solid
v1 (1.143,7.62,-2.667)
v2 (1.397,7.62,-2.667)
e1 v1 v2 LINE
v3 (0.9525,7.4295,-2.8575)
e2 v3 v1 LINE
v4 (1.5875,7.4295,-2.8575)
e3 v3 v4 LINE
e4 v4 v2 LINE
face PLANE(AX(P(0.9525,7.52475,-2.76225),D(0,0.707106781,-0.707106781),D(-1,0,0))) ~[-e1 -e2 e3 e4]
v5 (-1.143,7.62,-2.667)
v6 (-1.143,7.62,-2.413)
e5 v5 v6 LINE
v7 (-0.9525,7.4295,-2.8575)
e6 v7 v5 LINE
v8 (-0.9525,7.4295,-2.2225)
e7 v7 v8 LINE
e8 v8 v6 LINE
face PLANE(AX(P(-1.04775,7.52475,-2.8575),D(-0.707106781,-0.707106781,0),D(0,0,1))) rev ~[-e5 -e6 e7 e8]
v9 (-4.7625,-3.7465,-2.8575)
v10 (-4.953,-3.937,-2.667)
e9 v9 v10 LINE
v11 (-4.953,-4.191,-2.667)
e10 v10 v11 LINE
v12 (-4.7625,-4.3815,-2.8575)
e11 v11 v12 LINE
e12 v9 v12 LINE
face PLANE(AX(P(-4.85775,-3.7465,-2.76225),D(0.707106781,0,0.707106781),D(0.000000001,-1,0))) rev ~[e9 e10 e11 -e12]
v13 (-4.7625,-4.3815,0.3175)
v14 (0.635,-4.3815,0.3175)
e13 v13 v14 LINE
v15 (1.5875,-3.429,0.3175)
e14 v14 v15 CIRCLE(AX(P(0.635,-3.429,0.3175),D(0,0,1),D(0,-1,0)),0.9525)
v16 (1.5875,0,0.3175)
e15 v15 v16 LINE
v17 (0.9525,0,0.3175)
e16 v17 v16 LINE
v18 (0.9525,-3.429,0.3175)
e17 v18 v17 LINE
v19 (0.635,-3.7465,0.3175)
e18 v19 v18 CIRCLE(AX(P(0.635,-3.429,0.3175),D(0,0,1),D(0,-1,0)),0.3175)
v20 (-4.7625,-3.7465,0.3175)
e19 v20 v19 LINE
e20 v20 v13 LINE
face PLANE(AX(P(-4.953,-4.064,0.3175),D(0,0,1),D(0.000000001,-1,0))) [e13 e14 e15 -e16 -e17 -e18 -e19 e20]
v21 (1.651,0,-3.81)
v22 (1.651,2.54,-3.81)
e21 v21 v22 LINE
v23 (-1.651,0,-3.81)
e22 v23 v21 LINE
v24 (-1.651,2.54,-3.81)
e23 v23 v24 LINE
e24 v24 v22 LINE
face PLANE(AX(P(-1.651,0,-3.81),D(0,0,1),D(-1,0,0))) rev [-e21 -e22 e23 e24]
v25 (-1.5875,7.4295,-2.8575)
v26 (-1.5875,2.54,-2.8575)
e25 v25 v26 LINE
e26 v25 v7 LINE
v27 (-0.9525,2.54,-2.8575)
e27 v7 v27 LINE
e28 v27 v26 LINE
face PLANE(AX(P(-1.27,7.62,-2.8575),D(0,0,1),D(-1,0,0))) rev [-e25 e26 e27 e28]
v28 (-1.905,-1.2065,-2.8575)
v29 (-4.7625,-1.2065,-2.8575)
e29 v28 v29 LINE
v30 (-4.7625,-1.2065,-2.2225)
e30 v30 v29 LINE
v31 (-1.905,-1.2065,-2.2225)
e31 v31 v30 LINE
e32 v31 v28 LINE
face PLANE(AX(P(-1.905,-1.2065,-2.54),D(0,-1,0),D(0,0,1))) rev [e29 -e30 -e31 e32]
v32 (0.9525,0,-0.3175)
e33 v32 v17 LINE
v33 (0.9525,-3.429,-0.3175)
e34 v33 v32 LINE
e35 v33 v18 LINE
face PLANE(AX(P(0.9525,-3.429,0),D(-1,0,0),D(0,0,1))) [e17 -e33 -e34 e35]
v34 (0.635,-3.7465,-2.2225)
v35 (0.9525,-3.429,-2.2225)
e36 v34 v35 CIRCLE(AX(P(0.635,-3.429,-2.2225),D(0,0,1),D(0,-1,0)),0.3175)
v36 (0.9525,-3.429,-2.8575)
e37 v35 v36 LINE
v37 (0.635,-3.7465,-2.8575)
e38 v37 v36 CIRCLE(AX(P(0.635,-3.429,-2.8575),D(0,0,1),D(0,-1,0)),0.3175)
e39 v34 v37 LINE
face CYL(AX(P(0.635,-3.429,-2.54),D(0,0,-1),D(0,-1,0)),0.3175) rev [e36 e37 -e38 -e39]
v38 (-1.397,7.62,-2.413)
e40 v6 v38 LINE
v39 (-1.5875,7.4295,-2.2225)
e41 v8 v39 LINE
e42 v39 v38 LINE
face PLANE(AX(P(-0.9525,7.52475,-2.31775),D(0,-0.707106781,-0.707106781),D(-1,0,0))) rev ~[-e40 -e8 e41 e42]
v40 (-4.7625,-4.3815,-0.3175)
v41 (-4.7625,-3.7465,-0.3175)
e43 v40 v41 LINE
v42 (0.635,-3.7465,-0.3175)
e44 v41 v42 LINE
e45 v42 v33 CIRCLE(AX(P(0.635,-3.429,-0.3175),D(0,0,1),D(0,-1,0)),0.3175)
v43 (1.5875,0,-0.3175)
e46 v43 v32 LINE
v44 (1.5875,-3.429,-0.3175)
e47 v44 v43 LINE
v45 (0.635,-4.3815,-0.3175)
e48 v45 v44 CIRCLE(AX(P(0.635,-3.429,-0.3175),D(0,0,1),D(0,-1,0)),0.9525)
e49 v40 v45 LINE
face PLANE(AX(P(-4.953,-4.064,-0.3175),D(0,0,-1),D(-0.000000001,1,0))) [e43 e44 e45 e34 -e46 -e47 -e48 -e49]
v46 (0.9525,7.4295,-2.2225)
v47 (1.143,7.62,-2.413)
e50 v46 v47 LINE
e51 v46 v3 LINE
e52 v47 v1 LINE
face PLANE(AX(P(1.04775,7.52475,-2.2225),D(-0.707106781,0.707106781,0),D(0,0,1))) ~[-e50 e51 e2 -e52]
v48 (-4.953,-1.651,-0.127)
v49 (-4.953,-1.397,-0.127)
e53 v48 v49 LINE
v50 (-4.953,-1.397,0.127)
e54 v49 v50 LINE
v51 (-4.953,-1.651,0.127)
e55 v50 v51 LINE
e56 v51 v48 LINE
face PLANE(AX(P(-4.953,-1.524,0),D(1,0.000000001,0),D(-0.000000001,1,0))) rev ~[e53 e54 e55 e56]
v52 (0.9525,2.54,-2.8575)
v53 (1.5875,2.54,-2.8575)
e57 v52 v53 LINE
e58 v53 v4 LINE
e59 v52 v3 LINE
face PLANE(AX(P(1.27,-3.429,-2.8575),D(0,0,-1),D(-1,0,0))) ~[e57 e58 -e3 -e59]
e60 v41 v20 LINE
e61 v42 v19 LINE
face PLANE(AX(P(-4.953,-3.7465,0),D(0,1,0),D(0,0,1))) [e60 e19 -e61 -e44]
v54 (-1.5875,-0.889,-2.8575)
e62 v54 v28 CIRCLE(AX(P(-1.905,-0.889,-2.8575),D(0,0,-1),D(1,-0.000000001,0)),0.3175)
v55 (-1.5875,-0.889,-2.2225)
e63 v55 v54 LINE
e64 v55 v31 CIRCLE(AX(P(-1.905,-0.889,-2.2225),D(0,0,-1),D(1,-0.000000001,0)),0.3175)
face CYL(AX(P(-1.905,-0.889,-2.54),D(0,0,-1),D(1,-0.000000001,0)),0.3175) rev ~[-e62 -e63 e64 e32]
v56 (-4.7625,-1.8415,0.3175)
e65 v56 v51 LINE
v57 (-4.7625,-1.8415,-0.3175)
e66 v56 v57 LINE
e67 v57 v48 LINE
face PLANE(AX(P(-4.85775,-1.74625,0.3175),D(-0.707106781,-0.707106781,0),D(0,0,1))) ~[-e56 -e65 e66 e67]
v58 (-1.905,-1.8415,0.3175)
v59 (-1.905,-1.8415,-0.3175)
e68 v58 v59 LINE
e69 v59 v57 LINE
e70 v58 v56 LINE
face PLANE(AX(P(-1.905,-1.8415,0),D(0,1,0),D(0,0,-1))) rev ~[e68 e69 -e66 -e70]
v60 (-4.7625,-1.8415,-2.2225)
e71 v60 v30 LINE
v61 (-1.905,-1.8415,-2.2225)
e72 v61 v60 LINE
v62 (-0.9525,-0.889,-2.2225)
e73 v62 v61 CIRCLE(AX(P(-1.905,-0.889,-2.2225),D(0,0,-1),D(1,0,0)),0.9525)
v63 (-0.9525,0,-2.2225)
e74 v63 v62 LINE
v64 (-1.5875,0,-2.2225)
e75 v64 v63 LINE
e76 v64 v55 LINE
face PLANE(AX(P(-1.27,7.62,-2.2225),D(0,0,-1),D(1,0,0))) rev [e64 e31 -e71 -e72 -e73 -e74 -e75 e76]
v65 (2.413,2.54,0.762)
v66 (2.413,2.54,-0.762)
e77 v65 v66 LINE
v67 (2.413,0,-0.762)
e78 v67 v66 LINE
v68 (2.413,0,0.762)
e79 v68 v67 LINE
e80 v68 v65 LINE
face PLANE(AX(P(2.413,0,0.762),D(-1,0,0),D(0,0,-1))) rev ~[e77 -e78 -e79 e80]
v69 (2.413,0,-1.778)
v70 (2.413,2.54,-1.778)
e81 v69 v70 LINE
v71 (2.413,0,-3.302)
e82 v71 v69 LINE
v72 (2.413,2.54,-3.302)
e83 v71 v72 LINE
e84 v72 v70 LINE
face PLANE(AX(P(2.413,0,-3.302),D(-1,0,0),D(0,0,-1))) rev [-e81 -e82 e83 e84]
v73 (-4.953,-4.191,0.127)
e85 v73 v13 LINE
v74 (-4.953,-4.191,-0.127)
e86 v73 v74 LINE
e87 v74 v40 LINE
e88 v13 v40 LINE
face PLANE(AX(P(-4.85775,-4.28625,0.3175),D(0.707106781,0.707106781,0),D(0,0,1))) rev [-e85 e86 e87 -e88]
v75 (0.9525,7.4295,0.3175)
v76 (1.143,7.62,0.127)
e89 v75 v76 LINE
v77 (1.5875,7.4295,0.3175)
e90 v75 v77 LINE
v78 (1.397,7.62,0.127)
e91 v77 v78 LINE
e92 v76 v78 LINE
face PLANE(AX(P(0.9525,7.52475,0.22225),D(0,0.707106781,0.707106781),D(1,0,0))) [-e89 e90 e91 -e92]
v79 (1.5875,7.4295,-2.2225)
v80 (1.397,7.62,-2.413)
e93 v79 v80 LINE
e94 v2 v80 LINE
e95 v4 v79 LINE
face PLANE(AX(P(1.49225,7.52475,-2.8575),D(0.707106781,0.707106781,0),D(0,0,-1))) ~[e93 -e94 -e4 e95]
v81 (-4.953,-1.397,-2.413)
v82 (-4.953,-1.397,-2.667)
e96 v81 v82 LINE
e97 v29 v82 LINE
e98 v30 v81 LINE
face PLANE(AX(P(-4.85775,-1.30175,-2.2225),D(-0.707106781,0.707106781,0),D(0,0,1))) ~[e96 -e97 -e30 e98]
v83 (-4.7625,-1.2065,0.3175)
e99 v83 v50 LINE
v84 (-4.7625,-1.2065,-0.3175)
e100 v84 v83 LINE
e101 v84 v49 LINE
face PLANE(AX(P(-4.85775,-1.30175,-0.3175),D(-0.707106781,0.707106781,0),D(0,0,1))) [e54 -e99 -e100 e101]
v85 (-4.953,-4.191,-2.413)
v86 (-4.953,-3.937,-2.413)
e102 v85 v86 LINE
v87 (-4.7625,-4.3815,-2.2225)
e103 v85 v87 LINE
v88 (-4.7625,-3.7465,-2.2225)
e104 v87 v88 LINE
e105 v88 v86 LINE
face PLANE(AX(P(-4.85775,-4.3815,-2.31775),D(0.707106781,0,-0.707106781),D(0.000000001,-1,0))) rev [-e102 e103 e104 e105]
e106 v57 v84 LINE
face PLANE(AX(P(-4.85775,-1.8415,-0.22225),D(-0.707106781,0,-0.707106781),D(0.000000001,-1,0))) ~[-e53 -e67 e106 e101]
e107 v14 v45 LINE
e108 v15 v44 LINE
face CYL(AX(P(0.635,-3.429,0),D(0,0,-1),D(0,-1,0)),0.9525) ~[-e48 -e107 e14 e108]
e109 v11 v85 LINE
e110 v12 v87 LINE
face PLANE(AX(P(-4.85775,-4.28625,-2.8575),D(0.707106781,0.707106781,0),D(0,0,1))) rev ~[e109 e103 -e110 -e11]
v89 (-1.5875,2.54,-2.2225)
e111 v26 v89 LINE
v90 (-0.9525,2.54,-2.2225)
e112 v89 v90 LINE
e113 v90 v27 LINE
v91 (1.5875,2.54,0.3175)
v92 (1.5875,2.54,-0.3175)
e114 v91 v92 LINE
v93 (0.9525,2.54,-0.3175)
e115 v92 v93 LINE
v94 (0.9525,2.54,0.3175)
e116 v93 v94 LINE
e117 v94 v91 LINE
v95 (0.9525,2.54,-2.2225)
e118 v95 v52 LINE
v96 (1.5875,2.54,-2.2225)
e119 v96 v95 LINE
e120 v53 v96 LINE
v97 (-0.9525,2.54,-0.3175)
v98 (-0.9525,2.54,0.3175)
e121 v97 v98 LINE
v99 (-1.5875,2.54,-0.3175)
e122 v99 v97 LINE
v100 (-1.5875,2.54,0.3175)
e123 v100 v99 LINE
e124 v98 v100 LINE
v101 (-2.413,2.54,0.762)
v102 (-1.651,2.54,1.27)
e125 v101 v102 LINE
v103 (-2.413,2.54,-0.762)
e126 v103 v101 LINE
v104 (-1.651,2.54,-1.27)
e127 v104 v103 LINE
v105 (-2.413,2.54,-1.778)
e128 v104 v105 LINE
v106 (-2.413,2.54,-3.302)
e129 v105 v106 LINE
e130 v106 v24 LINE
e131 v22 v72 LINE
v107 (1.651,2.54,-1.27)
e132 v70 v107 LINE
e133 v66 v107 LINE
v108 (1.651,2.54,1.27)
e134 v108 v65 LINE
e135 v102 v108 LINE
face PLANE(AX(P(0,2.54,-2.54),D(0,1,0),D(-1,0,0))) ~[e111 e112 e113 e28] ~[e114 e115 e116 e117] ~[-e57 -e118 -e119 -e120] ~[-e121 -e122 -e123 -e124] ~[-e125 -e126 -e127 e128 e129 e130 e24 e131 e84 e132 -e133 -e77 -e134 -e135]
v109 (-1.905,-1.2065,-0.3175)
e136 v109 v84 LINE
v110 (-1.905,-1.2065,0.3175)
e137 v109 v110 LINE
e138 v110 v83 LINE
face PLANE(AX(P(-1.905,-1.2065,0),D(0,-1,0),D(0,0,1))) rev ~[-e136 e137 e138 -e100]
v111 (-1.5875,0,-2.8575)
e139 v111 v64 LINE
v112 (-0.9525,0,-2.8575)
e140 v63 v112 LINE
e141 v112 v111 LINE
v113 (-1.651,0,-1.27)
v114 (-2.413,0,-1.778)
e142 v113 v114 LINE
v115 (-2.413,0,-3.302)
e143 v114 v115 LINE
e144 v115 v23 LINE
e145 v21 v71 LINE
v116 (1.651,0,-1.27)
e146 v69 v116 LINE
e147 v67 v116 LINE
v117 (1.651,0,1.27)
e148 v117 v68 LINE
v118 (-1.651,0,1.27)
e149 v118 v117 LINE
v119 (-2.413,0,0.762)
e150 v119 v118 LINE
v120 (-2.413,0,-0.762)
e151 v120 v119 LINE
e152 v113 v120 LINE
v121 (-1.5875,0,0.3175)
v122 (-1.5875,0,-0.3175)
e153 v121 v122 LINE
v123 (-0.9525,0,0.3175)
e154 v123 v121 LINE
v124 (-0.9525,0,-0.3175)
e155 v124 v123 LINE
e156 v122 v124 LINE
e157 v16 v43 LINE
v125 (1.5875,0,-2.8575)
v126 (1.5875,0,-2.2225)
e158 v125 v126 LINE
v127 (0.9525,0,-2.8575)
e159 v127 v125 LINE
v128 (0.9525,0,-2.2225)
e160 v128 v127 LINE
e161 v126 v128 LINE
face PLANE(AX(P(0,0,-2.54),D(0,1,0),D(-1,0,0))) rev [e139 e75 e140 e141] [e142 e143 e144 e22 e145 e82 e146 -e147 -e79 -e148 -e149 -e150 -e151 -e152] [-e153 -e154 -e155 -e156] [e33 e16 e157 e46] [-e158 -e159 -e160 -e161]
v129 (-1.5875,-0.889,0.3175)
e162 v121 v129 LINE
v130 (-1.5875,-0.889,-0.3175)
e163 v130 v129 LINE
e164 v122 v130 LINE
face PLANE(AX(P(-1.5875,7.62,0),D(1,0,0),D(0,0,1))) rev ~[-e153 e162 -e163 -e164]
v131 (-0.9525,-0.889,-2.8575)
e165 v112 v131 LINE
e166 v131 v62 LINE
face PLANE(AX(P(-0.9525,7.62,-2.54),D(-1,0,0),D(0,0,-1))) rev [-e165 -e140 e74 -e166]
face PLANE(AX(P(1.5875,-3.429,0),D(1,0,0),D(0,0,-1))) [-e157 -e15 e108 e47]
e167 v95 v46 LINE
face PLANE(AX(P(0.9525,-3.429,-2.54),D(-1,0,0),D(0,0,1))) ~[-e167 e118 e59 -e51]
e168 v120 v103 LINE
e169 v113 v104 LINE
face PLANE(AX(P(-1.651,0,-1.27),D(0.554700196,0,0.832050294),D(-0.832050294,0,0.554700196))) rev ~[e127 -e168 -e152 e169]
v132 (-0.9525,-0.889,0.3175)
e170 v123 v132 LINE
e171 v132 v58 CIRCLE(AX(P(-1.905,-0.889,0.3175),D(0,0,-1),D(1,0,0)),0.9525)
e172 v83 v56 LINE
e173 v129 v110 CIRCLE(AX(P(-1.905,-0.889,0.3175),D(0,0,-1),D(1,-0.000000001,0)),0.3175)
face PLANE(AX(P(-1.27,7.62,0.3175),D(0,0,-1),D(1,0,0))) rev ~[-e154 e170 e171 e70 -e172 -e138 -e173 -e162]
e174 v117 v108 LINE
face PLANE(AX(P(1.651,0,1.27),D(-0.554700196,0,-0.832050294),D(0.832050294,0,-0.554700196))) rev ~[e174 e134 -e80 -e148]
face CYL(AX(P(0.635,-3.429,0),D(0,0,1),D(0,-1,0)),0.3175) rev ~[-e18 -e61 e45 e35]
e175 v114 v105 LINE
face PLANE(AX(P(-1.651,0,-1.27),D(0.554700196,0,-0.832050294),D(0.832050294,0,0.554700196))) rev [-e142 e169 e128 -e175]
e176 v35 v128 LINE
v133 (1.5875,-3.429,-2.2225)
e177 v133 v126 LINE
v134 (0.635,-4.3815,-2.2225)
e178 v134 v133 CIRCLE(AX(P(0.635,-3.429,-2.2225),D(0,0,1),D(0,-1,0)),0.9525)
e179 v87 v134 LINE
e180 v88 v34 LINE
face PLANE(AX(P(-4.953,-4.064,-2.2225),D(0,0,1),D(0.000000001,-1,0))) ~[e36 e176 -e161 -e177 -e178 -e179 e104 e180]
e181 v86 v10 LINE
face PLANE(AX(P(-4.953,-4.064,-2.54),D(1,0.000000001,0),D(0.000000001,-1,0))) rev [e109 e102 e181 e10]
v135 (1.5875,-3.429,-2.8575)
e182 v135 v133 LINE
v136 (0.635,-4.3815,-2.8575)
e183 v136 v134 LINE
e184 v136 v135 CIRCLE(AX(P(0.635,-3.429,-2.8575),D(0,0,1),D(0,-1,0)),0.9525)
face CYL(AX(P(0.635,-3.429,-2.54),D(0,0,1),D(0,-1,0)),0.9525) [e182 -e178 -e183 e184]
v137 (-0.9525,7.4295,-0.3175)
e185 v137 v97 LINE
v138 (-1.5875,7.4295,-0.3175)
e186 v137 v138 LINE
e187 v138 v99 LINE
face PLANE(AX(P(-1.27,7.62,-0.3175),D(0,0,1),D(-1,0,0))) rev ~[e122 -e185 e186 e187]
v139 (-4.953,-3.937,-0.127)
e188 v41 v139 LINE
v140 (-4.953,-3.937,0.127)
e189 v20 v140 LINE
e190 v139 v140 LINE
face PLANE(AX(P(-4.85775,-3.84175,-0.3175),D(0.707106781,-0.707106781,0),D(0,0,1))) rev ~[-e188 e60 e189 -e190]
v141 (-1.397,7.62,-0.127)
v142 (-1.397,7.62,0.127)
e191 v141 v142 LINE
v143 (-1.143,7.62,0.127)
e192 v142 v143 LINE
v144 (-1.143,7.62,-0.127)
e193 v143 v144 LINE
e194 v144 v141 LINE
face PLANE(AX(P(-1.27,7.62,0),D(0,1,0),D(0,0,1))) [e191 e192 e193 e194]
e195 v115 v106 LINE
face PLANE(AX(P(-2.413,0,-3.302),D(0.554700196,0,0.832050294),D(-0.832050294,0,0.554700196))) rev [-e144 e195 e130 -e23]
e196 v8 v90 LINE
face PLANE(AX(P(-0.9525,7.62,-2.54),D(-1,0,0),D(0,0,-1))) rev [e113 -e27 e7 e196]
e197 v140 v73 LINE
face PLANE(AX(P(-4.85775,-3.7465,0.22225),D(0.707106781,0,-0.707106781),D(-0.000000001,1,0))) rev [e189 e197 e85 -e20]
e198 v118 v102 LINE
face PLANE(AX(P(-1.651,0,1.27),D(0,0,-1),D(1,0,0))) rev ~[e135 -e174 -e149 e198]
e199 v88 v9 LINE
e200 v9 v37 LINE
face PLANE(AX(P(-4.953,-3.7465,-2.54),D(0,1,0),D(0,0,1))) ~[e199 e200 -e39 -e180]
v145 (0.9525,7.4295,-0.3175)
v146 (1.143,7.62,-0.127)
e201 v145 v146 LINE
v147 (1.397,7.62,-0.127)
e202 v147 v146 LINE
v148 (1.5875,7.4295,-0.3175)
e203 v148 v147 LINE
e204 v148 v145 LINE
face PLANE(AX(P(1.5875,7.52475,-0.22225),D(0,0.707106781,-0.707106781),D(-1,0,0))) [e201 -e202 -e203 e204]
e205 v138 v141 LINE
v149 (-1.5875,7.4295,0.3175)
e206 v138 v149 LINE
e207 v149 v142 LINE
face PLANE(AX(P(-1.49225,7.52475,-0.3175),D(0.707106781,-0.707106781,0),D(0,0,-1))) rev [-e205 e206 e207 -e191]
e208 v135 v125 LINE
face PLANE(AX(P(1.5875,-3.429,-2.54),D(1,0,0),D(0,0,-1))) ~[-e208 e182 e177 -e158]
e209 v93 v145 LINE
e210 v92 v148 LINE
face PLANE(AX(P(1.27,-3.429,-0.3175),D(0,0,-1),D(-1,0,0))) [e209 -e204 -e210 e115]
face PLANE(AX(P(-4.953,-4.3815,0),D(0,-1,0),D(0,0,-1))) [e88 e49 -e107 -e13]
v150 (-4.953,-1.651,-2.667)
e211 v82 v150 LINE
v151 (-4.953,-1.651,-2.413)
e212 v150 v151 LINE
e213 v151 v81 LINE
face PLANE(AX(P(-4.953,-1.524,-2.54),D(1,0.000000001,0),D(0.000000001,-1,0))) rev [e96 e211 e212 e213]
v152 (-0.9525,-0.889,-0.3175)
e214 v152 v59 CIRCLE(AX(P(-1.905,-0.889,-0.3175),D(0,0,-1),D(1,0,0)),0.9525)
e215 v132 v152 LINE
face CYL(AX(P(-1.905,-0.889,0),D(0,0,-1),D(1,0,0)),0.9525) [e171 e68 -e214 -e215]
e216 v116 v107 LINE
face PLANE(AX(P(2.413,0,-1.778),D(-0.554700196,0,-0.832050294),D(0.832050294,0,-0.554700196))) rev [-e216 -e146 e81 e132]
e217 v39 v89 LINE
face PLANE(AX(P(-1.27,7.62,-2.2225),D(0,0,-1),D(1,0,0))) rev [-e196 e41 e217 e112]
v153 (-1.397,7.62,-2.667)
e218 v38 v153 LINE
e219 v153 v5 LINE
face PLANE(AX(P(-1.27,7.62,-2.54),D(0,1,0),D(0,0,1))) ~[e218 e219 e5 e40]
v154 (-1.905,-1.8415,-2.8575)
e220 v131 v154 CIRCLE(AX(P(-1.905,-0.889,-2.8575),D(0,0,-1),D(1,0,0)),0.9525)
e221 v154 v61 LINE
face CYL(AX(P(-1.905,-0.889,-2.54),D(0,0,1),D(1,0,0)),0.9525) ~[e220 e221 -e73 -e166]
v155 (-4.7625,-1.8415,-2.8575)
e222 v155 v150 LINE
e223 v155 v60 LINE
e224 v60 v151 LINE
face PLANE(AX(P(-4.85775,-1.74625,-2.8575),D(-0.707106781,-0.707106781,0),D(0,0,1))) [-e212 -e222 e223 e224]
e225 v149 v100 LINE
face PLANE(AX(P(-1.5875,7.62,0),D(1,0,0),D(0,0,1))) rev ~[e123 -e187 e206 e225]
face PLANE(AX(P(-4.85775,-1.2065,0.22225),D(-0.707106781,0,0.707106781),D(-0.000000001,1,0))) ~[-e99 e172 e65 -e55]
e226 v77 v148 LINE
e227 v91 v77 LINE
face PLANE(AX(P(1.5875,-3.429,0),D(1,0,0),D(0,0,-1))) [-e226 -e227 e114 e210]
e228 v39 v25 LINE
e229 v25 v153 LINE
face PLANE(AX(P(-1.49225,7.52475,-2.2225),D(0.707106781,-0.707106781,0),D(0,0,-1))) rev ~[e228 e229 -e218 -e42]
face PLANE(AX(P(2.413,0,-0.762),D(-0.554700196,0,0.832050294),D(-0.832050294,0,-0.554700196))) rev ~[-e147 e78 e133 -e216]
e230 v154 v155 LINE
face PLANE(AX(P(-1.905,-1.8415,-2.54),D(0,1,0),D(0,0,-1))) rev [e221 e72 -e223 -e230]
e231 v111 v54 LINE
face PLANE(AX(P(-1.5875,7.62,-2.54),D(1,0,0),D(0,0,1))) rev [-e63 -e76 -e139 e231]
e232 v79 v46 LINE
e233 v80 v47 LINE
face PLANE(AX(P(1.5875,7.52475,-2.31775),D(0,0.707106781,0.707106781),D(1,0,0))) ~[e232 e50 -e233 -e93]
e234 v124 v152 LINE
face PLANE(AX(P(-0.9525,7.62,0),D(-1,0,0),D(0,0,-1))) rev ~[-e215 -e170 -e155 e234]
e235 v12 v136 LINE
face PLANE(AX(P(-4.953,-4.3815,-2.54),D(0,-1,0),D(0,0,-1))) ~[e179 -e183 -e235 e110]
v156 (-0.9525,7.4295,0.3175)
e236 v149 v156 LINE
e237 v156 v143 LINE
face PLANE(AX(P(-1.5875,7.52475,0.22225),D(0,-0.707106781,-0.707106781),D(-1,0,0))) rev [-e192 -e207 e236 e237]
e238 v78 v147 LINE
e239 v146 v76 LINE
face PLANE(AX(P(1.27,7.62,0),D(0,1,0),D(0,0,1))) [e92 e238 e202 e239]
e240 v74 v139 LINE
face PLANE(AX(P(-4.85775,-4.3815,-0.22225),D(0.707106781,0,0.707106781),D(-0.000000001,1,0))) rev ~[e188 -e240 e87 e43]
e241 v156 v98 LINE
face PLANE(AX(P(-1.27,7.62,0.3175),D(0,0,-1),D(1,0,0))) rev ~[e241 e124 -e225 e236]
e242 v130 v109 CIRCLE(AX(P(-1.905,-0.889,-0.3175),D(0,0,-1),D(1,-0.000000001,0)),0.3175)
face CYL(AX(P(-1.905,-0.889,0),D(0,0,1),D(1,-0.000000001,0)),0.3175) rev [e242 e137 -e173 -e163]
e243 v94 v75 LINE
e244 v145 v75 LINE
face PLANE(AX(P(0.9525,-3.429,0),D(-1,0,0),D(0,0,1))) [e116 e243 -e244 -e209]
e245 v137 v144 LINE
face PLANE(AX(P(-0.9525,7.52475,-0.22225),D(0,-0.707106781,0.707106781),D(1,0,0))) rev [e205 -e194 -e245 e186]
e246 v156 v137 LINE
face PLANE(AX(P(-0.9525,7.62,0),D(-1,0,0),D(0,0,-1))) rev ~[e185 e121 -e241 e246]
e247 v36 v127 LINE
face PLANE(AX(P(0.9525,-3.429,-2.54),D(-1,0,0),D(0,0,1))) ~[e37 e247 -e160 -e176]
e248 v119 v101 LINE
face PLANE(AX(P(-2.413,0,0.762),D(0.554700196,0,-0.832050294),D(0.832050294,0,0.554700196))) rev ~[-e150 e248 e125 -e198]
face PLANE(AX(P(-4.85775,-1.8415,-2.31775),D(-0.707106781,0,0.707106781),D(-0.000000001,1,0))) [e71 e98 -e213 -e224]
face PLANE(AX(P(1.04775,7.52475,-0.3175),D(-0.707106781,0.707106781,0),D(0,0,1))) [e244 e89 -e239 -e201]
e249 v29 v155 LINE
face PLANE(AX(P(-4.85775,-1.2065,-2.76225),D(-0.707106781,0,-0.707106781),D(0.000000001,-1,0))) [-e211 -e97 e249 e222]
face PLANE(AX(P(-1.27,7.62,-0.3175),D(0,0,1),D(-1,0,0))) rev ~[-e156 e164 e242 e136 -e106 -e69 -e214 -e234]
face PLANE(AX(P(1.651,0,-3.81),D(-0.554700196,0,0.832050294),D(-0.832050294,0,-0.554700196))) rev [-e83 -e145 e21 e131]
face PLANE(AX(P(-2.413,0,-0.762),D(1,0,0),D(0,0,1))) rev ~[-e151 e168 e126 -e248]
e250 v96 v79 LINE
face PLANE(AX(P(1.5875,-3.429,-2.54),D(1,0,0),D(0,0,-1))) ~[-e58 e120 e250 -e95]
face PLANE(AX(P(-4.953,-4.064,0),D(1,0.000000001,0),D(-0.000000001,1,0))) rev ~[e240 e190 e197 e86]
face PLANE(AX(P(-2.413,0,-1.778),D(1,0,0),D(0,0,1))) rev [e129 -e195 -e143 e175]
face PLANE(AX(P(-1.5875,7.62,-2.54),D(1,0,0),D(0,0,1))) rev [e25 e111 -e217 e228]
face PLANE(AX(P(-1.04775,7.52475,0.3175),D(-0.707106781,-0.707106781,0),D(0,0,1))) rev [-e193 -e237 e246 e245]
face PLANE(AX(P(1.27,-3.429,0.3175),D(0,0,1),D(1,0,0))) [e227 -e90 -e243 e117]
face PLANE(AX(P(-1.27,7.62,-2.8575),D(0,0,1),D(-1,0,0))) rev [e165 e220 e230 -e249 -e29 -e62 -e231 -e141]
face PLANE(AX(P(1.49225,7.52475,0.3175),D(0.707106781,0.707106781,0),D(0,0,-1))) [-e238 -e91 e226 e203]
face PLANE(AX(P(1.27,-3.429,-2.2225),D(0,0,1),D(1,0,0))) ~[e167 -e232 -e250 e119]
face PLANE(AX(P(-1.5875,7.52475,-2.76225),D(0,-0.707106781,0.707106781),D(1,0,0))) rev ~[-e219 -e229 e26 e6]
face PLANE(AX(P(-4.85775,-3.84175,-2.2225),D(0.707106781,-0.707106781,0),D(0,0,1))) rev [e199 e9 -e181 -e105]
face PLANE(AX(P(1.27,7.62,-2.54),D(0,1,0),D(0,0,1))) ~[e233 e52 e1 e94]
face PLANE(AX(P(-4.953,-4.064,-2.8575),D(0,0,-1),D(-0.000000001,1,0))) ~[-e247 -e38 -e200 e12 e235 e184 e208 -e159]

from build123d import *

# Parameters (mm, degrees)
BOSS_EXTRUDE2_DEPTH = 2.54
SKETCH5_W           = 0.635
SKETCH5_H           = 0.635
SKETCH6_W           = 0.635
SKETCH6_H           = 0.635
CHAMFER1_SIZE       = 0.1905


with BuildPart() as part:
    # Sketch1 → Boss-Extrude2 (new body)
    with BuildSketch(Plane(origin=(0, 0, 0), x_dir=(1, 0, 0), z_dir=(0, 1, 0))):
        Polygon((-2.413, -0.762), (-1.651, -1.27), (1.651, -1.27), (2.413, -0.762), (2.413, 0.762), (1.651, 1.27), (-1.651, 1.27), (-2.413, 0.762), align=None)
    extrude(amount=BOSS_EXTRUDE2_DEPTH)

    # Sweep5: sweep along a path in Sketch2
    with BuildLine(Plane.XY) as sweep5_path:
        Line((-1.27, 7.62), (-1.27, 2.54))
        Line((-1.27, 2.54), (-1.27, -0.889))
        ThreePointArc((-1.27, -0.889), (-1.455987194, -1.338012806), (-1.905, -1.524))
        Line((-1.905, -1.524), (-4.953, -1.524))
    # Sketch5 → Sweep5 (sweep)
    with BuildSketch(Plane(origin=(0, 7.62, 0), x_dir=(1, 0, 0), z_dir=(0, 1, 0))):
        with Locations((-1.27, 0)):
            Rectangle(SKETCH5_W, SKETCH5_H)
    sweep(path=sweep5_path.line)

    # Sweep6: sweep along a path in Sketch7
    with BuildLine(Plane.XY) as sweep6_path:
        Line((-4.953, -4.064), (0.635, -4.064))
        ThreePointArc((0.635, -4.064), (1.084012806, -3.878012806), (1.27, -3.429))
        Line((1.27, -3.429), (1.27, 2.54))
        Line((1.27, 2.54), (1.27, 7.62))
    # Sketch6 → Sweep6 (sweep)
    with BuildSketch(Plane(origin=(0, 7.62, 0), x_dir=(1, 0, 0), z_dir=(0, 1, 0))):
        with Locations((1.27, 0)):
            Rectangle(SKETCH6_W, SKETCH6_H)
    sweep(path=sweep6_path.line)

    # Chamfer1
    chamfer1_edges = [part.edges().sort_by_distance(p)[0] for p in [
        (-4.953, -1.524, -0.3175),
        (-4.953, -1.8415, 0),
        (-4.953, -1.524, 0.3175),
        (-4.953, -1.2065, 0),
        (-1.27, 7.62, -0.3175),
        (-0.9525, 7.62, 0),
        (-1.27, 7.62, 0.3175),
        (-1.5875, 7.62, 0),
        (1.5875, 7.62, 0),
        (1.27, 7.62, -0.3175),
        (0.9525, 7.62, 0),
        (1.27, 7.62, 0.3175),
        (-4.953, -4.3815, 0),
        (-4.953, -4.064, -0.3175),
        (-4.953, -3.7465, 0),
        (-4.953, -4.064, 0.3175),
    ]]
    chamfer(chamfer1_edges, length=CHAMFER1_SIZE)

    # Mirror1: part across plane


with BuildPart() as part_1:
    add(part.part)
    add(part.part.mirror(Plane(origin=(-1.651, 2.54, -1.27), x_dir=(1, 0, 0), z_dir=(0, 0, 1))))


solid = part_1.part
